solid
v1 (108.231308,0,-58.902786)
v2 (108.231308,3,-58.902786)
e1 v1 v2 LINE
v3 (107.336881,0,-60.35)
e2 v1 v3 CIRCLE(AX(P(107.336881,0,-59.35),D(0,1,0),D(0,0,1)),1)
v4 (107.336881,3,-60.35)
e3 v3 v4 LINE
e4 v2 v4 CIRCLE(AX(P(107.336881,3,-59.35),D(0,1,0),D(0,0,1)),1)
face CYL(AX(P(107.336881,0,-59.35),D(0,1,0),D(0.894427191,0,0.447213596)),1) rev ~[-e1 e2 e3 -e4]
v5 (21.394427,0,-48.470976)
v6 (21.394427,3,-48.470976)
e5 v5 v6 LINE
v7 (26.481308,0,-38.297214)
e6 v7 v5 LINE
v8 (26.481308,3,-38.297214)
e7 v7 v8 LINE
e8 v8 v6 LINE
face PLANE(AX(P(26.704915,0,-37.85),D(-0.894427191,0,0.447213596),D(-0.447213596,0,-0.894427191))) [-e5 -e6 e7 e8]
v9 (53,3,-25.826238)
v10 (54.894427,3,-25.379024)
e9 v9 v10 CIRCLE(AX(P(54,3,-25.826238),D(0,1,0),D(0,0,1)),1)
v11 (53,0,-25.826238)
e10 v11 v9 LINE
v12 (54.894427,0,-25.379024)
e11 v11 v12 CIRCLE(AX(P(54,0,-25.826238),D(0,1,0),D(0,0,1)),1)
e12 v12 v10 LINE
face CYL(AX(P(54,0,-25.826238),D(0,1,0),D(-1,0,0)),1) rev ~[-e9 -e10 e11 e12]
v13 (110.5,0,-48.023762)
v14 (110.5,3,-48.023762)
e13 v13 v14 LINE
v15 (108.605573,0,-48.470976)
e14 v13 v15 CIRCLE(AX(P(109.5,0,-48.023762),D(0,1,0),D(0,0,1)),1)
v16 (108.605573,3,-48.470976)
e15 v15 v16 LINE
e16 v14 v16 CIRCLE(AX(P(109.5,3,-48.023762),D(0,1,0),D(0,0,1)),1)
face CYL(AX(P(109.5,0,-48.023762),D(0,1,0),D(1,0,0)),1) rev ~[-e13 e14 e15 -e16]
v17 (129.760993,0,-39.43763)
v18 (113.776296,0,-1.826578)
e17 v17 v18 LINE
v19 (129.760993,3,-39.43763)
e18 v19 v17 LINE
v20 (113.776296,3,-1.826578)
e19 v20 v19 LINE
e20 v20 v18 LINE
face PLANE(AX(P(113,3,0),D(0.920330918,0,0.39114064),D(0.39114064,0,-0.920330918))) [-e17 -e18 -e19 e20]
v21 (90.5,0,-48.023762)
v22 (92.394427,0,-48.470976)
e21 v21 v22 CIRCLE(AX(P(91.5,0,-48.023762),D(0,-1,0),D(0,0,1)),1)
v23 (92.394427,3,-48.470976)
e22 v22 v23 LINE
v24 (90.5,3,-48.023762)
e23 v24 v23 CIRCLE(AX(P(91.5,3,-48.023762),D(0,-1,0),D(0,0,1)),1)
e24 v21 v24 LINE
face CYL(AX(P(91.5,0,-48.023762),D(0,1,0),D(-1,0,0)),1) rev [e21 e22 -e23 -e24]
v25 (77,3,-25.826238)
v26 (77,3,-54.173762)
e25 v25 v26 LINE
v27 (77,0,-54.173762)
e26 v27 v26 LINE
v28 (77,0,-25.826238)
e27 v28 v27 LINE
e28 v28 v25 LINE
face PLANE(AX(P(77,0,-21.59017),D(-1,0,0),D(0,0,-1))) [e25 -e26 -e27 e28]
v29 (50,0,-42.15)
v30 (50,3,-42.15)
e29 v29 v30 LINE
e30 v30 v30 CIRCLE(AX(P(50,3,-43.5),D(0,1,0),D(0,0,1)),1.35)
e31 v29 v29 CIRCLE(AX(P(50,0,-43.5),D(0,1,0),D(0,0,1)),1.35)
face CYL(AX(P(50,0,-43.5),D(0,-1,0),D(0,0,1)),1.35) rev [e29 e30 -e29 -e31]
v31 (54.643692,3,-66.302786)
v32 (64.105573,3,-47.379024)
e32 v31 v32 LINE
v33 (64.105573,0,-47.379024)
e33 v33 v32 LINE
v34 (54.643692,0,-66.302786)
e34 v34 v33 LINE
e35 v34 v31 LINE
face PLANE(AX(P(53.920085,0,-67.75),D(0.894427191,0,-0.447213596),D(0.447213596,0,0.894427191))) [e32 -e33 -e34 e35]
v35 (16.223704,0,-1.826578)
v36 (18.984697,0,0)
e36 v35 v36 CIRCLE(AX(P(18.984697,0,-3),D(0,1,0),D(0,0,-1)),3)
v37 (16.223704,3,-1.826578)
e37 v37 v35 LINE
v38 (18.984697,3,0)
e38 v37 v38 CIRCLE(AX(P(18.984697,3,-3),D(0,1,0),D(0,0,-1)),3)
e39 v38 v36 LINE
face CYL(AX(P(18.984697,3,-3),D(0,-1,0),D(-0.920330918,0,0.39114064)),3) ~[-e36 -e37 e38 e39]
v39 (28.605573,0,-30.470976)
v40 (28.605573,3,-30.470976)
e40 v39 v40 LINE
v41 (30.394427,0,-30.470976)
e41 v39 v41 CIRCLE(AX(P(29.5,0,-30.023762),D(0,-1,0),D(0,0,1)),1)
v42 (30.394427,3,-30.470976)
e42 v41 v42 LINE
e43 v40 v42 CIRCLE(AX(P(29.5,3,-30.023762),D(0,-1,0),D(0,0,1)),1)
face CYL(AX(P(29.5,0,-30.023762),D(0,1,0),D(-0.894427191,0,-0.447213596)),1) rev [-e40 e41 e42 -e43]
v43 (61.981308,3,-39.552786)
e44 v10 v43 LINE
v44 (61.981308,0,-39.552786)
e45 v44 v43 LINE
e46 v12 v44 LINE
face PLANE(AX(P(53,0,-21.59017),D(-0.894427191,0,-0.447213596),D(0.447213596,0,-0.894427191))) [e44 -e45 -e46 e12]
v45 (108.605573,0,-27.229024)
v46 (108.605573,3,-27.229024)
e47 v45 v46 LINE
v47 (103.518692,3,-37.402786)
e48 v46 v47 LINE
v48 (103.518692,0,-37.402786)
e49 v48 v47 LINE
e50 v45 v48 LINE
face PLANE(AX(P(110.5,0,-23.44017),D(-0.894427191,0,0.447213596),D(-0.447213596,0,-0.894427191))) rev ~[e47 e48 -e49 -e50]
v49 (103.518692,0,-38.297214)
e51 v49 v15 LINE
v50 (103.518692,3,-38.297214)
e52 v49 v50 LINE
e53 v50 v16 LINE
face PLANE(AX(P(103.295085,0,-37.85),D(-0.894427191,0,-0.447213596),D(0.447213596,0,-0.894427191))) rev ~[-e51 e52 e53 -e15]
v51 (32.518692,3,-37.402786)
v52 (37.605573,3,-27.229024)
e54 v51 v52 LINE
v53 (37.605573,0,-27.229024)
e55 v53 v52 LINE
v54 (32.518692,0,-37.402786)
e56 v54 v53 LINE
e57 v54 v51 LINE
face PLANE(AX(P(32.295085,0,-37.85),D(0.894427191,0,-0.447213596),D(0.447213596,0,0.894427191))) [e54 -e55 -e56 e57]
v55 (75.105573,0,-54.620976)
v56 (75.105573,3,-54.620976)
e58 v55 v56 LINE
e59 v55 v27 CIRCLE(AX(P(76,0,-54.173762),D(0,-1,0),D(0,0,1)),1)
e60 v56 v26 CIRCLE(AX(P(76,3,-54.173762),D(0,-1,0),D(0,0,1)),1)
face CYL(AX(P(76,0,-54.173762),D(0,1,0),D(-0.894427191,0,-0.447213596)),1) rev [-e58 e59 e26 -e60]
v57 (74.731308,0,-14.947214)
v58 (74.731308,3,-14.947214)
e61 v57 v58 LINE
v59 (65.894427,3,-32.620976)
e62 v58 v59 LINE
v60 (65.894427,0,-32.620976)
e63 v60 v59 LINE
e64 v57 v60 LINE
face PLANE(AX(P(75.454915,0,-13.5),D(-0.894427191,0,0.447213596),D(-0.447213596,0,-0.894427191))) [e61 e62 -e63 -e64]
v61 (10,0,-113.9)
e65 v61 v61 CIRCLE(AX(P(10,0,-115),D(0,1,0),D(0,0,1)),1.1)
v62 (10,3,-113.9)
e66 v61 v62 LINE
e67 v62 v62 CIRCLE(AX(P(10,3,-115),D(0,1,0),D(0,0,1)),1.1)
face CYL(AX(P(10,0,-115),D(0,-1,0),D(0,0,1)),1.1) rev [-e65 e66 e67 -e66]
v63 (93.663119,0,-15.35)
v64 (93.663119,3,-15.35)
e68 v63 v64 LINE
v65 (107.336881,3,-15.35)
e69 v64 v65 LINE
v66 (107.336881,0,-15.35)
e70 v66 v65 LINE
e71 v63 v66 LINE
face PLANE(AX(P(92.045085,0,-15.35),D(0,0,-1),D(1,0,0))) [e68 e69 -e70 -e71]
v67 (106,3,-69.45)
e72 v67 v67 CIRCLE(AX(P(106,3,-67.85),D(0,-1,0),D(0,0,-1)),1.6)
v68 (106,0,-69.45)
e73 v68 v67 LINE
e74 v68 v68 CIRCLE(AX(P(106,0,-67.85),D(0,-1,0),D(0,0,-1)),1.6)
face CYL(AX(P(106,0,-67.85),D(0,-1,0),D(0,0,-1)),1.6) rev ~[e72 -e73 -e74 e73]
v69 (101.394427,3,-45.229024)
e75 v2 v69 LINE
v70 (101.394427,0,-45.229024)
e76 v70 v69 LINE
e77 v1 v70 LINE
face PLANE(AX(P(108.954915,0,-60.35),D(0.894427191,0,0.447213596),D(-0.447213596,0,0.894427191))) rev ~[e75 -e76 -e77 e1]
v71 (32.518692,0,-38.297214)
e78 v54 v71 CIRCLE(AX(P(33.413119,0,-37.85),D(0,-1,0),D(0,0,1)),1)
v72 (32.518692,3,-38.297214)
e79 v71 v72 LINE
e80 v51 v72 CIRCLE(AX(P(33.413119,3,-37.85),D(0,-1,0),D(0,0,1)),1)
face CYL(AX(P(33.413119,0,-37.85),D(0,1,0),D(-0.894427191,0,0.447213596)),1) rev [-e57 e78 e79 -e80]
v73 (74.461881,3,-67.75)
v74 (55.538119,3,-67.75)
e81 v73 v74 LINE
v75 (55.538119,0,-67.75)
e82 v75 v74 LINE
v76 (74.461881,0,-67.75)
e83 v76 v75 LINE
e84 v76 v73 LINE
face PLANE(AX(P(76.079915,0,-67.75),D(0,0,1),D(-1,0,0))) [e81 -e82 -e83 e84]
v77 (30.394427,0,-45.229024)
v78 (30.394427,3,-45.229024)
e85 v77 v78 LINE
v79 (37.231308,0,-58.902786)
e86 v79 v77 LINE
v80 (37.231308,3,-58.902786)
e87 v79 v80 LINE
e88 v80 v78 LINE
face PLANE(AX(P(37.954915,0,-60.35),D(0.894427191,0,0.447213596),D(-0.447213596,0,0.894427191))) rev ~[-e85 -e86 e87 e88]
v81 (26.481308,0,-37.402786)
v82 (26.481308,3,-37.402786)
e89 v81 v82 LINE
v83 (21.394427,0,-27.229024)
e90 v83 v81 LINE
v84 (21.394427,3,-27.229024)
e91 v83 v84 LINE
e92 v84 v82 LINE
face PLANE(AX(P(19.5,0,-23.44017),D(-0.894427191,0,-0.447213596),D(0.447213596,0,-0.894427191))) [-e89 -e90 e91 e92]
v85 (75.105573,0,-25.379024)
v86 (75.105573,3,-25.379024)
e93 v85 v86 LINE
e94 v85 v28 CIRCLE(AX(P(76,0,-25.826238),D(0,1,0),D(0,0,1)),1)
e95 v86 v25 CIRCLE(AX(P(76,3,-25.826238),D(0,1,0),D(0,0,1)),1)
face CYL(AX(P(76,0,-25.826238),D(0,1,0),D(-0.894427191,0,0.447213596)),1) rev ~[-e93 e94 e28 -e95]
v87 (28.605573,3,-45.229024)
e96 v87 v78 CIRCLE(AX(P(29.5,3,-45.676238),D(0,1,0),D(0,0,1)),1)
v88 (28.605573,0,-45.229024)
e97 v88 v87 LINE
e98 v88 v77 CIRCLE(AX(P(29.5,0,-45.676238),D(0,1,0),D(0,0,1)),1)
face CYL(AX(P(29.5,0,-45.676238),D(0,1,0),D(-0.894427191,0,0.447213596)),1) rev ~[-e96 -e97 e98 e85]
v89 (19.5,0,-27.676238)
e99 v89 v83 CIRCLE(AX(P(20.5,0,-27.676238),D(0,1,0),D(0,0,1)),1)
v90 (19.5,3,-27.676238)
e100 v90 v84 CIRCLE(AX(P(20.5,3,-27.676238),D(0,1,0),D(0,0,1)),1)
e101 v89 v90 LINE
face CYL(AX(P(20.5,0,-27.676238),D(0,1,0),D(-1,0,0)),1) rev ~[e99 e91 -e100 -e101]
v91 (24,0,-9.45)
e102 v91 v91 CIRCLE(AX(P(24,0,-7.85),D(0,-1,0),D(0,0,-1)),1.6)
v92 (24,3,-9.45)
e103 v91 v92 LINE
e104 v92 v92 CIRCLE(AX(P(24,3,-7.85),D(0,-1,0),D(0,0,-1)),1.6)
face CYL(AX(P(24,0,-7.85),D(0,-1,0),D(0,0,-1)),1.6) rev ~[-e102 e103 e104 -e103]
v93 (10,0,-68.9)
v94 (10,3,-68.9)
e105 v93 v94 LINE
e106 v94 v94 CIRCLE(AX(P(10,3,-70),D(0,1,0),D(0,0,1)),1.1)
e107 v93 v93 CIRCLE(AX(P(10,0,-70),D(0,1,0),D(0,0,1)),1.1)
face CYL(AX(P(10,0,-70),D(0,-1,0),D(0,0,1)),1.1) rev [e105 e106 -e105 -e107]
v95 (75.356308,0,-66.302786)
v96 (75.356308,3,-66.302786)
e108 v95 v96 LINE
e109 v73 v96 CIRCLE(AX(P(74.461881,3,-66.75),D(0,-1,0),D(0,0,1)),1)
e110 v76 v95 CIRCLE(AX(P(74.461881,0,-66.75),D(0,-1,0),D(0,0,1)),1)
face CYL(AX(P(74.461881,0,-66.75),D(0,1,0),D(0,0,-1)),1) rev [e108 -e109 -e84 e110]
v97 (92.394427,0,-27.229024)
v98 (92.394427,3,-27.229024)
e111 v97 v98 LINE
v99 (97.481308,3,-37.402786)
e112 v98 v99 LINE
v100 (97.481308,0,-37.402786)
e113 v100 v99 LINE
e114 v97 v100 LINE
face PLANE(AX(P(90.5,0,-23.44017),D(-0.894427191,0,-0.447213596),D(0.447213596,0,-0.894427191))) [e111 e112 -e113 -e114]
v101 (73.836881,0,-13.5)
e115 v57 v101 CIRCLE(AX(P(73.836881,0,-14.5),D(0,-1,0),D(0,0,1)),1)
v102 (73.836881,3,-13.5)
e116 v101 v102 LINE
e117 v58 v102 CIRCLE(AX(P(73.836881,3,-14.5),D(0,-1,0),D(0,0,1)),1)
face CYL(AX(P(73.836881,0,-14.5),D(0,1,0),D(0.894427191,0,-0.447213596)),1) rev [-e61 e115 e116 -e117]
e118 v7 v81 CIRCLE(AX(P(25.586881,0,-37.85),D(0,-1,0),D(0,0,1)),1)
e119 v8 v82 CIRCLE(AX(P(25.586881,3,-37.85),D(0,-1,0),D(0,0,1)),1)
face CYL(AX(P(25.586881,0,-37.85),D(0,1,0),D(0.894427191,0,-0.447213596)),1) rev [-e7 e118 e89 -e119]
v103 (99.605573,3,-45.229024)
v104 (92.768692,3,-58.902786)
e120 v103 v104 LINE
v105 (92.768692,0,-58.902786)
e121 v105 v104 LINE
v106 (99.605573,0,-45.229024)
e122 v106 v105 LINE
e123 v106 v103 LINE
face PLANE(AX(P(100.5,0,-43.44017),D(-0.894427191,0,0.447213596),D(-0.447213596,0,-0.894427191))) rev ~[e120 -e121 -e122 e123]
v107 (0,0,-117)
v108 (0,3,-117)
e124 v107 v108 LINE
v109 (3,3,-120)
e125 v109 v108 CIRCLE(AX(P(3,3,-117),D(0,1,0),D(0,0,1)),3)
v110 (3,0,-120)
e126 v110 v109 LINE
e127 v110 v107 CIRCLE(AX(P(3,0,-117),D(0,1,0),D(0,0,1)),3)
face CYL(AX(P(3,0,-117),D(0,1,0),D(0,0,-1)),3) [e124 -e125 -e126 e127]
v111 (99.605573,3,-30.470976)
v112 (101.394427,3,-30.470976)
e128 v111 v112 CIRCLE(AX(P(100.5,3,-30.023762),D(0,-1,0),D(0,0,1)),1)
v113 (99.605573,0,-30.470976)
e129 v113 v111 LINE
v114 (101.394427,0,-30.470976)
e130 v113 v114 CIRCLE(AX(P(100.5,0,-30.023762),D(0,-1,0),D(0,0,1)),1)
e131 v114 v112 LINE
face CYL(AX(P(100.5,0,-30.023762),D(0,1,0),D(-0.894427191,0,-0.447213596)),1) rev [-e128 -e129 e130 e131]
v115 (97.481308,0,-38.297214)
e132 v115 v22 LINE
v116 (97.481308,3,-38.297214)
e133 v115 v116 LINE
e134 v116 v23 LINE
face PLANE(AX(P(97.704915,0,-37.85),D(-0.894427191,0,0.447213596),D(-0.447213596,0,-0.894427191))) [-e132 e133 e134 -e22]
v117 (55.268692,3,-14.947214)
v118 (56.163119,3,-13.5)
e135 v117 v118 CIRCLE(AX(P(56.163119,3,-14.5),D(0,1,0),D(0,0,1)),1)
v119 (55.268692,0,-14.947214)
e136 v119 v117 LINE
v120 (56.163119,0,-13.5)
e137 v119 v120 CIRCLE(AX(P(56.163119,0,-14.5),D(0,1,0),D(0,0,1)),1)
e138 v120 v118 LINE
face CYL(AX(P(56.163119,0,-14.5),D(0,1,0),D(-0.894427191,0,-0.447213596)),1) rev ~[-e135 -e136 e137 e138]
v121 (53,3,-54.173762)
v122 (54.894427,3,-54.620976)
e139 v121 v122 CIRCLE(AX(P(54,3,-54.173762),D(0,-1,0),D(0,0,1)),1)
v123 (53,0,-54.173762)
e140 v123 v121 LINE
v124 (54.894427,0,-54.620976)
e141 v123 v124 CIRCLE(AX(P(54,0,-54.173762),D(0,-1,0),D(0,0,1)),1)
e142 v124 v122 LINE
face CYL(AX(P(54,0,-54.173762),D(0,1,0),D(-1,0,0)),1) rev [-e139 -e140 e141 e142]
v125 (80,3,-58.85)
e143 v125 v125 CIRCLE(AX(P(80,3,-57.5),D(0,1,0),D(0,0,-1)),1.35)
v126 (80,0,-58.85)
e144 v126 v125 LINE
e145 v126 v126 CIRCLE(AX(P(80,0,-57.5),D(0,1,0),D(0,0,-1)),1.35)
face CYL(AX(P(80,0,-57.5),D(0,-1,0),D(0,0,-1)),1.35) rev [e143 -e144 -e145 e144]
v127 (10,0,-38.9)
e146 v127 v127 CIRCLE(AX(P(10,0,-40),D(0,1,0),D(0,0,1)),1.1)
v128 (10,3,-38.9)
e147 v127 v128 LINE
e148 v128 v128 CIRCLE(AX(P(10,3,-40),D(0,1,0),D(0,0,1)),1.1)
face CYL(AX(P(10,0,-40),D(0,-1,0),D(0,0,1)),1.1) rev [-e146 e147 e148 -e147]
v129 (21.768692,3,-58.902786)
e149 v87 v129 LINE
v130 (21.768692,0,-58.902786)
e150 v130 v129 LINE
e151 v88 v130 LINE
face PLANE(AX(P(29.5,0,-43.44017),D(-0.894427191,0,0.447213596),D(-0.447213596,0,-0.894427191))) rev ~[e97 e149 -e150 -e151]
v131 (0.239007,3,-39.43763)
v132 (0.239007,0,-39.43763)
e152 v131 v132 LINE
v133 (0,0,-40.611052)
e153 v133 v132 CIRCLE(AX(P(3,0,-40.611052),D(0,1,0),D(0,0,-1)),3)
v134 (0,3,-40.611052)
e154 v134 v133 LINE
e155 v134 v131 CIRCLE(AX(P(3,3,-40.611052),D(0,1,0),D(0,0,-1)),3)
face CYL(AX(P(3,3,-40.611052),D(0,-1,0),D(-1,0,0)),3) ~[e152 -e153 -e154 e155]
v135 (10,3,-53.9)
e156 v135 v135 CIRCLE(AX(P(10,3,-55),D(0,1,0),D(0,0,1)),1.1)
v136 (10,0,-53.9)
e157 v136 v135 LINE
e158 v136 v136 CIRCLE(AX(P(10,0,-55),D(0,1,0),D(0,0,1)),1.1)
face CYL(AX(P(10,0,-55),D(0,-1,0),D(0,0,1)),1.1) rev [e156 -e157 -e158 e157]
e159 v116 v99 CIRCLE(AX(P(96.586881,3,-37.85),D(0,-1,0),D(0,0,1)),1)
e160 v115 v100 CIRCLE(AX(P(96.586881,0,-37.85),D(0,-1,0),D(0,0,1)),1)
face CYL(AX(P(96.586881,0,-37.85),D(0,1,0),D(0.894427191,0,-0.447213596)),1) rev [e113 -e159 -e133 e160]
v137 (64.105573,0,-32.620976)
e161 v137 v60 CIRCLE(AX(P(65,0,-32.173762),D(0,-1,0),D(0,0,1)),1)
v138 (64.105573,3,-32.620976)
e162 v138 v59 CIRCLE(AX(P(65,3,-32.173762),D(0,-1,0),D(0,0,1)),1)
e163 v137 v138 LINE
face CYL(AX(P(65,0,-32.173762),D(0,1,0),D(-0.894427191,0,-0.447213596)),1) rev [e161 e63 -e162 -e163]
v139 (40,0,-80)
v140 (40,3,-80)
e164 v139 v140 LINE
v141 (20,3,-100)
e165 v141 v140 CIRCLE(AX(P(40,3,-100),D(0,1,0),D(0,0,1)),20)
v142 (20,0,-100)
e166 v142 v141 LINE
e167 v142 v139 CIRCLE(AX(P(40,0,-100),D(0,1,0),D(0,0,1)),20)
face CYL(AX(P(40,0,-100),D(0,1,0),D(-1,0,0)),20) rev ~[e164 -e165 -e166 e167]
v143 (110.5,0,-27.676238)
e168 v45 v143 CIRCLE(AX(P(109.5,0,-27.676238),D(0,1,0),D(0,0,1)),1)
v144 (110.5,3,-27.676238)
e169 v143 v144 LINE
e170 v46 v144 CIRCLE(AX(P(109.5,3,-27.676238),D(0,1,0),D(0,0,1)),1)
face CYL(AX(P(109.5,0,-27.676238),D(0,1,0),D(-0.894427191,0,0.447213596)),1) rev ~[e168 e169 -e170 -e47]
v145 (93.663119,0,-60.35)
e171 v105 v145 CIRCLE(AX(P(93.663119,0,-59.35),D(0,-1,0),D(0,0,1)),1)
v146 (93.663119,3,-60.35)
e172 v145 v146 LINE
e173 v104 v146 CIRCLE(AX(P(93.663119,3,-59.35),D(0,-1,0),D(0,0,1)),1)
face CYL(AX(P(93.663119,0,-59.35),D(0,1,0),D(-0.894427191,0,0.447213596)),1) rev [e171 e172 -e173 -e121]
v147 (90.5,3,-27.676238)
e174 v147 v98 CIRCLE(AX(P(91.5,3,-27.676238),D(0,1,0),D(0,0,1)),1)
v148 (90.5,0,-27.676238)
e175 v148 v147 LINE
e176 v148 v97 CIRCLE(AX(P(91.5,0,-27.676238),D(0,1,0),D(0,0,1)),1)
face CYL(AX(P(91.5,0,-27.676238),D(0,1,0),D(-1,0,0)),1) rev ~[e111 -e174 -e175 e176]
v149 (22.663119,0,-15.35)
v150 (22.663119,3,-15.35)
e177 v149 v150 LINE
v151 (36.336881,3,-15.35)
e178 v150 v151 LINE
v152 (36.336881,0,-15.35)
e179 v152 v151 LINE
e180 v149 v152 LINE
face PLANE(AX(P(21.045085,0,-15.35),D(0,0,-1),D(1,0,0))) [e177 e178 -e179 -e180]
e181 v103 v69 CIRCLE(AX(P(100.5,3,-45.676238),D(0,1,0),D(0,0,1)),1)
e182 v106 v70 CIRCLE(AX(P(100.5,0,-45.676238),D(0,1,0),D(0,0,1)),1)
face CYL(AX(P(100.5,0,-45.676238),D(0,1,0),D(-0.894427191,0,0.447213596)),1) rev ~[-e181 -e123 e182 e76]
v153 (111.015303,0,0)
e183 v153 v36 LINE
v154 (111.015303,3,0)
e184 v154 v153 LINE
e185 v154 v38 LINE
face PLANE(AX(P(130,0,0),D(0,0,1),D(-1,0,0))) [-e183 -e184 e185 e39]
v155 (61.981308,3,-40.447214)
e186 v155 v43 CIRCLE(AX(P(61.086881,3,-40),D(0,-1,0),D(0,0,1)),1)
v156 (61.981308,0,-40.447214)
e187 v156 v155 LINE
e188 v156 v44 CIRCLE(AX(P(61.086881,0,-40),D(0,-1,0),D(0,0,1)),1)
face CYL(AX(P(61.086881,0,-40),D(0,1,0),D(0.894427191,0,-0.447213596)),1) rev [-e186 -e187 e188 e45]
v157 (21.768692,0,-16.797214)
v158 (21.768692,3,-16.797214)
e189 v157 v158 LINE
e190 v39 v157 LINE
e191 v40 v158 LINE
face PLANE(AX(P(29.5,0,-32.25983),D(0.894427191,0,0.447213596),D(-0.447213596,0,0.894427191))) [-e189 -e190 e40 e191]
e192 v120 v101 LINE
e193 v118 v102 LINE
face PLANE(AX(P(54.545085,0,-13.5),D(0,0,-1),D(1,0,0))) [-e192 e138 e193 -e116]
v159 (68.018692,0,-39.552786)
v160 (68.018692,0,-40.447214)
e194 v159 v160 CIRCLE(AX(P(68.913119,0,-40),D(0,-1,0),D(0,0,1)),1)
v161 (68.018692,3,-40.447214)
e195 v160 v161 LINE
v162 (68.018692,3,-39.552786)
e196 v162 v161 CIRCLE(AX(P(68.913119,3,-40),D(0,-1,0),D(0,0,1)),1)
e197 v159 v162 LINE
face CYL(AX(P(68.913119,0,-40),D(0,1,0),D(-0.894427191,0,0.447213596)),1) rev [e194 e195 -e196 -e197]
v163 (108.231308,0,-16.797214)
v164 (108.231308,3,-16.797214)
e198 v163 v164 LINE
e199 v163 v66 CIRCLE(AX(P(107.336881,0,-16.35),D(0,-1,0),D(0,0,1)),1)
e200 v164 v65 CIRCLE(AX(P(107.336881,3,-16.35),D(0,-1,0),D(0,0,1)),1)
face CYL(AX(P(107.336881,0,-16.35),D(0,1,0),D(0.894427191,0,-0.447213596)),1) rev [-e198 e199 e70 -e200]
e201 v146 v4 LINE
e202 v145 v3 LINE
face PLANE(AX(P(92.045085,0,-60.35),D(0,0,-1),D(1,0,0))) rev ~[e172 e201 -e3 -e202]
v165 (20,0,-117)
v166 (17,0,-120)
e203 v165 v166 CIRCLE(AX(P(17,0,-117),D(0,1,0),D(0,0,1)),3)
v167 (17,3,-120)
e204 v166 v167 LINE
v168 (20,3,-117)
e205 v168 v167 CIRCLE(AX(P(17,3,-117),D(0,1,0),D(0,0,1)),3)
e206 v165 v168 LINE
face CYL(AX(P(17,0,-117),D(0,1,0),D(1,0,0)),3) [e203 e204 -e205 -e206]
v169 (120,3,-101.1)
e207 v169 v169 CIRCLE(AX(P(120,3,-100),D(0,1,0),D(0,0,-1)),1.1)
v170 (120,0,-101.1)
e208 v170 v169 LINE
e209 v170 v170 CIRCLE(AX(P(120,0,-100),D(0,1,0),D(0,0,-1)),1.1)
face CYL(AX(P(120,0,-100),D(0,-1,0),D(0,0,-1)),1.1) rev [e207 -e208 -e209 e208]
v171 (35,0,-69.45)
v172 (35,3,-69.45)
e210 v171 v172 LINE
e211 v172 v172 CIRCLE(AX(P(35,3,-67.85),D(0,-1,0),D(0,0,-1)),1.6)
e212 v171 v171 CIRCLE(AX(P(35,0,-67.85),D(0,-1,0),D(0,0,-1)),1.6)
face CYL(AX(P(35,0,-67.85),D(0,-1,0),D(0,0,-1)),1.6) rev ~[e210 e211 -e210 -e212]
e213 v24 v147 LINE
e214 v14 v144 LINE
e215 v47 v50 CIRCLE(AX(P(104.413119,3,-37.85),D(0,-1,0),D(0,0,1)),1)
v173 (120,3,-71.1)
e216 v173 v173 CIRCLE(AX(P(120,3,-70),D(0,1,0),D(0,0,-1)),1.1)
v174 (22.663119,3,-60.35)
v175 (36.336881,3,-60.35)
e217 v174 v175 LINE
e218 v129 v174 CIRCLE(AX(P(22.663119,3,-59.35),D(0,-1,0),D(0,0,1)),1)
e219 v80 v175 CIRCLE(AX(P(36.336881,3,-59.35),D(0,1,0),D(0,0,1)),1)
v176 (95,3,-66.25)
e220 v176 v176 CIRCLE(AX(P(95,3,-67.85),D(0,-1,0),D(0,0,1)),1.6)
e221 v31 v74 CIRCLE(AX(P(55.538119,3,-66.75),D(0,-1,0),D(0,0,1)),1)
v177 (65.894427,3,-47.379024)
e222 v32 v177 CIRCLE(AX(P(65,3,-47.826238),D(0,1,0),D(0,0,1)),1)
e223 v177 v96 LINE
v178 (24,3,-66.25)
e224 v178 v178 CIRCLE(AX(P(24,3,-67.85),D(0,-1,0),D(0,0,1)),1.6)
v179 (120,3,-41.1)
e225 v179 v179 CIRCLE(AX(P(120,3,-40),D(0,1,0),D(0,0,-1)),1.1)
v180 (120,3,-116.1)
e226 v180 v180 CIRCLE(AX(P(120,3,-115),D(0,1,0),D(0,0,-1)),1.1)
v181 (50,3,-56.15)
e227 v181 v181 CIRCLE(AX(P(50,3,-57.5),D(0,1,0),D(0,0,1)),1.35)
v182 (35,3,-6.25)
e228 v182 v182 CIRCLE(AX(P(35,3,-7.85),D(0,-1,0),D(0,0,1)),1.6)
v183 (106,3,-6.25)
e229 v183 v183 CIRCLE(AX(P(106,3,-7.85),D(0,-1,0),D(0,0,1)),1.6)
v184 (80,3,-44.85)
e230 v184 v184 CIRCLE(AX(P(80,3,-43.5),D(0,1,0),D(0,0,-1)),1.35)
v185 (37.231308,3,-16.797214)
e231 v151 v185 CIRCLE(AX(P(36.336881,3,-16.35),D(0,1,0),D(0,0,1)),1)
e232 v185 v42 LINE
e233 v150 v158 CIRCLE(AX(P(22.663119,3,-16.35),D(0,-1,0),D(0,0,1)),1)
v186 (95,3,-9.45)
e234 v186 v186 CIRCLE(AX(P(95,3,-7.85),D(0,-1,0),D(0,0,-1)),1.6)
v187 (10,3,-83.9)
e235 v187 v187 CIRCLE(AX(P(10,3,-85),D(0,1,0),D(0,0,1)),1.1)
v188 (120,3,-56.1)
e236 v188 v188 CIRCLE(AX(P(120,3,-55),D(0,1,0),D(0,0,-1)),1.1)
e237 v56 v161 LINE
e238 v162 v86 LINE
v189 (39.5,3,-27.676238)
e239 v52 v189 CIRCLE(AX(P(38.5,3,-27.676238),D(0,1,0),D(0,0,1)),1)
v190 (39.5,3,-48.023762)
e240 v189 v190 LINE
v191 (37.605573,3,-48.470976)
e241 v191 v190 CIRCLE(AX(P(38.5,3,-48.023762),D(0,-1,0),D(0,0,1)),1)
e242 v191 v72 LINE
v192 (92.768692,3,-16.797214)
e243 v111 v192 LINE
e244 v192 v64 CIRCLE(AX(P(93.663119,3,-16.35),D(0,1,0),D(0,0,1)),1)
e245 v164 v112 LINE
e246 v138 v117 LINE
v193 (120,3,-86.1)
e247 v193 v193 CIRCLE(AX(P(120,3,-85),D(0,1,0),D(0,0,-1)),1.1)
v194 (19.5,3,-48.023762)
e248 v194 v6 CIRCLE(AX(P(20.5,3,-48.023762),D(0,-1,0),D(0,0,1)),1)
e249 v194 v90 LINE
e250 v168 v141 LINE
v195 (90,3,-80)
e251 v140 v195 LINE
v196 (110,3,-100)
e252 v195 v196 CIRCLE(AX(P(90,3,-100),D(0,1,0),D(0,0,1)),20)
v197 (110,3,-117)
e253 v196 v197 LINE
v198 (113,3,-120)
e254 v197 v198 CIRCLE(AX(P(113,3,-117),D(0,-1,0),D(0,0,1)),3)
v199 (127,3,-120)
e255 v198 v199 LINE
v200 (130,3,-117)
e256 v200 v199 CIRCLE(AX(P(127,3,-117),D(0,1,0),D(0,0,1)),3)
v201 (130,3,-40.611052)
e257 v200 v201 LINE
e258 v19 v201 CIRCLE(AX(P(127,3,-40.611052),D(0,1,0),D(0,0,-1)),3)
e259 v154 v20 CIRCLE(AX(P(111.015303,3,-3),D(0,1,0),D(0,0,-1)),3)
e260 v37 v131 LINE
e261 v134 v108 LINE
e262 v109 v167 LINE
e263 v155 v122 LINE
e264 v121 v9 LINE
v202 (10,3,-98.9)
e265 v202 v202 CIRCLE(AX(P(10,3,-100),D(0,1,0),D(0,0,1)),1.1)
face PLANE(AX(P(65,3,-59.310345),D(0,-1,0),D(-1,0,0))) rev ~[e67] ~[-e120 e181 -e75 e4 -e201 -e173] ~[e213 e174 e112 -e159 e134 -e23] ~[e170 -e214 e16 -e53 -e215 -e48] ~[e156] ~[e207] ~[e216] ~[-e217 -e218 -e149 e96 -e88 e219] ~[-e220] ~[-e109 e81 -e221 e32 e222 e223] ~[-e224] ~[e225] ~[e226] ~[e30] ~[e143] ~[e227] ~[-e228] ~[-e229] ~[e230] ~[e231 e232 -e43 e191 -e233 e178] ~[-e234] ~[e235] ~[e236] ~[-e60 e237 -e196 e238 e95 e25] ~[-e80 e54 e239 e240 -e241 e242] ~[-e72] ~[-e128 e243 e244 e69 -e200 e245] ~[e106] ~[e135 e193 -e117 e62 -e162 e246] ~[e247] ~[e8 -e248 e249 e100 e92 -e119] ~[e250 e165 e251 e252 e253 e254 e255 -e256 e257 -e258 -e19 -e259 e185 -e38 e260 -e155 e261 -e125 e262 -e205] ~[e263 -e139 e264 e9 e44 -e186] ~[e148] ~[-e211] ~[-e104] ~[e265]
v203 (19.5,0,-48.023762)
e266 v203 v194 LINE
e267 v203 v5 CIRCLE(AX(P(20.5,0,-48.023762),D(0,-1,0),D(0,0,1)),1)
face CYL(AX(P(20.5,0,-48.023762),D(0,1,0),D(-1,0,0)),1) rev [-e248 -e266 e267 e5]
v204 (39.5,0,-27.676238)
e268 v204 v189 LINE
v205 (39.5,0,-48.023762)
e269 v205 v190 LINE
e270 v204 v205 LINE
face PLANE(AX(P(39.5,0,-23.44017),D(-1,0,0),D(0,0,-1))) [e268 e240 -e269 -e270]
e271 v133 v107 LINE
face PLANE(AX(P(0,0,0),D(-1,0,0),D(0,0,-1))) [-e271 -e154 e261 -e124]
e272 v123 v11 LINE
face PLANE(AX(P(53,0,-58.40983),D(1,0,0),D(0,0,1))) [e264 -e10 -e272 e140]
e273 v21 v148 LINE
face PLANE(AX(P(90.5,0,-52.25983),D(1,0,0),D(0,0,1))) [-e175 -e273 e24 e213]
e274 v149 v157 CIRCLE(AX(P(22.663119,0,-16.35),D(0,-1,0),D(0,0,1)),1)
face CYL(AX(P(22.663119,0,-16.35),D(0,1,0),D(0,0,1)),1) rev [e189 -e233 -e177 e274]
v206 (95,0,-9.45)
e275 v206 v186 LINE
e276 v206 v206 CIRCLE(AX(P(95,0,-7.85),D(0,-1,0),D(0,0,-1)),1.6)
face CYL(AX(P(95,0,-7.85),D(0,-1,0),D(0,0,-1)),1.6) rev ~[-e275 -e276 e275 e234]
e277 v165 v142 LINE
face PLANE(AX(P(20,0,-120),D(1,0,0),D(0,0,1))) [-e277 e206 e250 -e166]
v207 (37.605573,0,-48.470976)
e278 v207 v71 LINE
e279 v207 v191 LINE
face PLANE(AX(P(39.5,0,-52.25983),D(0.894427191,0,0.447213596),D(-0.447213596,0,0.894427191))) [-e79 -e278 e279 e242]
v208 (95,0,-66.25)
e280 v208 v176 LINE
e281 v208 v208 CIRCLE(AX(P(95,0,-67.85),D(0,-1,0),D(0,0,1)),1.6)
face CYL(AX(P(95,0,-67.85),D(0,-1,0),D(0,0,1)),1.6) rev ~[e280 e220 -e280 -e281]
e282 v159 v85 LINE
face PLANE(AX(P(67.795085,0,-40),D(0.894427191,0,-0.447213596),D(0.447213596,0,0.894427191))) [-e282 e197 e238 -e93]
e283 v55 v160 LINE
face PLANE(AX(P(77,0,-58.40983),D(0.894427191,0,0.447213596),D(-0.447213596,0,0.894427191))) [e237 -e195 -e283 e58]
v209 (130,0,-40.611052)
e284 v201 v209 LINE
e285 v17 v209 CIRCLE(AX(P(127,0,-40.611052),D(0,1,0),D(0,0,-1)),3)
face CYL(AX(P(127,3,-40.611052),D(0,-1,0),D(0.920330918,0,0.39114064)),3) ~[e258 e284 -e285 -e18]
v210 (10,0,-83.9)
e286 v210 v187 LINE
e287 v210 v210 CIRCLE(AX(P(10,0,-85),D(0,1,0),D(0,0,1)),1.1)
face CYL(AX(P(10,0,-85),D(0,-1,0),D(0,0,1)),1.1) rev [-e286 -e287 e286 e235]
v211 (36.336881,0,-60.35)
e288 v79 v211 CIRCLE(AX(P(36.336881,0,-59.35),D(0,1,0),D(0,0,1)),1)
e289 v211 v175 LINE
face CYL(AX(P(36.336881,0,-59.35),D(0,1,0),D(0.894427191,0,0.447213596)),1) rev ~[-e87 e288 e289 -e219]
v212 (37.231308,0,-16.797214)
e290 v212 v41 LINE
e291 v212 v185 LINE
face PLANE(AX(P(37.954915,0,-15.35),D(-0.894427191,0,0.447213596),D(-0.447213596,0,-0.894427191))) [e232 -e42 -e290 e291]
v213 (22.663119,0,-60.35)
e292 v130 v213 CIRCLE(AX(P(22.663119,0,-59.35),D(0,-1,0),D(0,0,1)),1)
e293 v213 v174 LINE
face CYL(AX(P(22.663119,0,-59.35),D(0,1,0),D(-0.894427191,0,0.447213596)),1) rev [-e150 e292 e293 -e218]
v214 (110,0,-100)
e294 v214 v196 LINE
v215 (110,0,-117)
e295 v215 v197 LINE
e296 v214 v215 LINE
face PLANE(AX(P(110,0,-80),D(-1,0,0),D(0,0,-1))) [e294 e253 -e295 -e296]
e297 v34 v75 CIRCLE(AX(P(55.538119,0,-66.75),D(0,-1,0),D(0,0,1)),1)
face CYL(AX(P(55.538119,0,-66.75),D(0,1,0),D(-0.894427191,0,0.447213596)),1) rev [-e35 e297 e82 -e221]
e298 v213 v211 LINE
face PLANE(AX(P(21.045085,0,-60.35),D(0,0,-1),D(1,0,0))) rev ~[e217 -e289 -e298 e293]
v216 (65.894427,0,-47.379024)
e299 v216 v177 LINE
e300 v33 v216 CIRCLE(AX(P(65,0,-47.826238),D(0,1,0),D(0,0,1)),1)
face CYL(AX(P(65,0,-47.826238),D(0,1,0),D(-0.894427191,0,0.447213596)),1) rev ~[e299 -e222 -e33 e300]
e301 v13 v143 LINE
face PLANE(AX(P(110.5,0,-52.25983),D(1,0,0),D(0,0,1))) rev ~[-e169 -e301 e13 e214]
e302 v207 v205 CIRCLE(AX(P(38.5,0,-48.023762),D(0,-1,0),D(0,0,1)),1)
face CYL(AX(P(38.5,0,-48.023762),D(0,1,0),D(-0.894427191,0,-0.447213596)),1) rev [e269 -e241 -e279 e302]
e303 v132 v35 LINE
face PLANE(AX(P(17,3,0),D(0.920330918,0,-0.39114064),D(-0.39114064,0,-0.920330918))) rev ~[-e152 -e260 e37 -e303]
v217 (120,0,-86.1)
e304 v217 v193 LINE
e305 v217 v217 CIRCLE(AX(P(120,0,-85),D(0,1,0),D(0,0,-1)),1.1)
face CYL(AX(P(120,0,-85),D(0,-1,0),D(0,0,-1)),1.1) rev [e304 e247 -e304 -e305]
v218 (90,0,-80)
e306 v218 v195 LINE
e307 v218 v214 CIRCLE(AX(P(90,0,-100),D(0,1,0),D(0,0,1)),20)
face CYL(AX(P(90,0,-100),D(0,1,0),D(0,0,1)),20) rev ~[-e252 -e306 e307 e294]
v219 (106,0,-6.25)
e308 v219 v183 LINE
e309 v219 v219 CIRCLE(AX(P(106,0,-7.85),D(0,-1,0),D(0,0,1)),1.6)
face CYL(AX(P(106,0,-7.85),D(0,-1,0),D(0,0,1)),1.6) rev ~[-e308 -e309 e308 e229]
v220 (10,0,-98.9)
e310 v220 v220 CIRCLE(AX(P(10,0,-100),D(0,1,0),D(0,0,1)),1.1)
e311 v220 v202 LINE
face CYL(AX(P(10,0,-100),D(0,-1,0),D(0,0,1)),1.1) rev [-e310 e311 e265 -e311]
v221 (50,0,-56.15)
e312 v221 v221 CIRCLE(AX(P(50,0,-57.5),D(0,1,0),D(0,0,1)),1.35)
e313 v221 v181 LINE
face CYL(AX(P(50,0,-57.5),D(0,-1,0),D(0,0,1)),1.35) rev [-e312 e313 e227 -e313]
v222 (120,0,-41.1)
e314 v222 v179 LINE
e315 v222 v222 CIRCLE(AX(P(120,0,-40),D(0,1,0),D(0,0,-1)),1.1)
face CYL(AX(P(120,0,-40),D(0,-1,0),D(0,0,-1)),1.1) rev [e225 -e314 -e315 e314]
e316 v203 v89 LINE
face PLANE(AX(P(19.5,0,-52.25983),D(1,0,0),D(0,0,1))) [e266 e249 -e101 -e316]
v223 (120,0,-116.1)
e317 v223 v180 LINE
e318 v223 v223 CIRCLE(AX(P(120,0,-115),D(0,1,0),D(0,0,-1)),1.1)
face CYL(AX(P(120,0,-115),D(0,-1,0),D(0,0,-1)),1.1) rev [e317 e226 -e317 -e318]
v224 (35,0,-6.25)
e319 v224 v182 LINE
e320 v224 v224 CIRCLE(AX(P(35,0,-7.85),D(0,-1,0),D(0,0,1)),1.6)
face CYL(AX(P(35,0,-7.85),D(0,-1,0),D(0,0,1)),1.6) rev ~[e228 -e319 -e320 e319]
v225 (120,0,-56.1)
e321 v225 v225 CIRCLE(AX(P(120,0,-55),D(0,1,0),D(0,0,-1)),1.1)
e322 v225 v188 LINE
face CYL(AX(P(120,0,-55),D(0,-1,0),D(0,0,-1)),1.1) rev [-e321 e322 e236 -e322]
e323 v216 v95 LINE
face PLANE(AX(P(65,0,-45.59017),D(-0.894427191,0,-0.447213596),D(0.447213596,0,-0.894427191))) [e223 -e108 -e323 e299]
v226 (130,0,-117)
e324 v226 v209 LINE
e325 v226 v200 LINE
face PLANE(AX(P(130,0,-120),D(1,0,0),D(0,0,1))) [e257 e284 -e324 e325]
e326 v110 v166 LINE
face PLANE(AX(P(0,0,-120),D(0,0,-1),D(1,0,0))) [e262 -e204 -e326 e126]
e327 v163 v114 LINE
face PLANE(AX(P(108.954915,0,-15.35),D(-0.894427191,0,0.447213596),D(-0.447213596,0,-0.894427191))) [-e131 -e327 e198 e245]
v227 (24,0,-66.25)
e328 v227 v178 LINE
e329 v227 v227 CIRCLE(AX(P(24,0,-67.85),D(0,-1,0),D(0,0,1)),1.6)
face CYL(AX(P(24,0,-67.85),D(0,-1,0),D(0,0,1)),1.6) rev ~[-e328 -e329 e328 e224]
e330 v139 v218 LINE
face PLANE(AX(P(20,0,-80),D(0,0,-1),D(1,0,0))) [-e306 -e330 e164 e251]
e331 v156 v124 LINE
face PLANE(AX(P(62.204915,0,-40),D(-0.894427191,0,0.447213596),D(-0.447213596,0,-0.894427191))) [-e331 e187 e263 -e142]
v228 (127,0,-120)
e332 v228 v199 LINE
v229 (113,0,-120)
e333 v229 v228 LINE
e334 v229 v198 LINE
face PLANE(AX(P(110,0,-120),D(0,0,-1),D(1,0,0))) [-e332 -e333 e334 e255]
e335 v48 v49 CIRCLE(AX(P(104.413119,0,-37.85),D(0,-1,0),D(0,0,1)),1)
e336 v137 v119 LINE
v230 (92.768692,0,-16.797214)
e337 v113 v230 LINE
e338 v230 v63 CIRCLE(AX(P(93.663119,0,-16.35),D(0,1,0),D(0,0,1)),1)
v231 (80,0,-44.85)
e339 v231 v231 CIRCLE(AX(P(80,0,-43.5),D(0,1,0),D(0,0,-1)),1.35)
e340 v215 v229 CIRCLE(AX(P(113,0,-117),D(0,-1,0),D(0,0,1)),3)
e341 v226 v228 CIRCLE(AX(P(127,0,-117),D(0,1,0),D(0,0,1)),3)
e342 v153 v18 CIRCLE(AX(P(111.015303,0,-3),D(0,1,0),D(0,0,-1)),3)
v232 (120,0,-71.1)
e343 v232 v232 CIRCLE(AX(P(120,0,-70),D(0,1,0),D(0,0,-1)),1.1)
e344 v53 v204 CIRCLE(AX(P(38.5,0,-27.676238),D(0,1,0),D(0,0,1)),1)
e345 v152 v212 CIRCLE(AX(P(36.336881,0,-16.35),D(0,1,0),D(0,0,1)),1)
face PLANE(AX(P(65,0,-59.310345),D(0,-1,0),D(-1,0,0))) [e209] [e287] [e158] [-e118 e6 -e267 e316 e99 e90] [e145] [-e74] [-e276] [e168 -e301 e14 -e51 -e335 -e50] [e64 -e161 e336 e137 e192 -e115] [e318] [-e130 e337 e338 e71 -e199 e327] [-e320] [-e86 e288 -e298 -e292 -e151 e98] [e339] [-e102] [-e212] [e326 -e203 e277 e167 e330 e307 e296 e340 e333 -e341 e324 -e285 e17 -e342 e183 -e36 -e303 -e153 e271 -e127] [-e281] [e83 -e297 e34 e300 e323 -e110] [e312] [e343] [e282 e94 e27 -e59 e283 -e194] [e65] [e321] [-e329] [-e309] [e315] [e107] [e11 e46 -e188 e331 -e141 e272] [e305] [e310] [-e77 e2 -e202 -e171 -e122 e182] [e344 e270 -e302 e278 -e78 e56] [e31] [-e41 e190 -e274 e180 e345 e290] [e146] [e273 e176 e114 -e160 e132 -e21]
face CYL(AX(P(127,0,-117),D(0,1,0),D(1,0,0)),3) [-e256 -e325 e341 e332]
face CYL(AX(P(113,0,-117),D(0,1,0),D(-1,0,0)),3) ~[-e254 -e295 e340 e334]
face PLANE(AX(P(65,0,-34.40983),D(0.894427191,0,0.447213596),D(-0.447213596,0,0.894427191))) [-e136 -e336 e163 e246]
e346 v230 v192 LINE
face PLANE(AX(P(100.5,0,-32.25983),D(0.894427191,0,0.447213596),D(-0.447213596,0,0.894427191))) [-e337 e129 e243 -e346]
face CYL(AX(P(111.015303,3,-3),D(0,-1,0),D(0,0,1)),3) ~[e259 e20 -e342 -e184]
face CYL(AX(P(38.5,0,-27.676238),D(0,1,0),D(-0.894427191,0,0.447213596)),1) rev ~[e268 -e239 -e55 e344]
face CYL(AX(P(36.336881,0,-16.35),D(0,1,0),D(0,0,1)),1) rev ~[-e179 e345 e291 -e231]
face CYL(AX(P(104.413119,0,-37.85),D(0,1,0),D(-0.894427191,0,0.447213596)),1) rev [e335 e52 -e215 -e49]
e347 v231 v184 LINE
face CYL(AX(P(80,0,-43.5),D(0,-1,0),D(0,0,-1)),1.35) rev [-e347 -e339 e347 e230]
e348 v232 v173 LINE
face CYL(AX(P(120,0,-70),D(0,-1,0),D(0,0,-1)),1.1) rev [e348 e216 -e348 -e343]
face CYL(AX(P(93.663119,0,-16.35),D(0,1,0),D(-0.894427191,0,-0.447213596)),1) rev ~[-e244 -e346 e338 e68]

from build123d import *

# Parameters (mm, degrees)
SKETCH_1_R          = 1.1
SKETCH_1_R_2        = 1.35
EXTRUDE_1_DEPTH     = 3
SKETCH_2_R          = 1.6
CUT_EXTRUDE_1_DEPTH = 177.943493805
CUT_EXTRUDE_2_DEPTH = 177.943493805
FILLET_1_R          = 3
FILLET_2_R          = 1
FILLET_3_R          = 20


with BuildPart() as part:
    # 草图1 → 凸台-拉伸1 (new body)
    with BuildSketch(Plane(origin=(0, 0, 0), x_dir=(1, 0, 0), z_dir=(0, 1, 0))):
        Polygon((20, 120), (20, 80), (110, 80), (110, 120), (130, 120), (130, 0), (0, 0), (0, 120), align=None)
        with Locations(Location((10, 115, 0), (0, 0, 270))):
            Circle(SKETCH_1_R, mode=Mode.SUBTRACT)
        with Locations(Location((120, 115, 0), (0, 0, 90))):
            Circle(SKETCH_1_R, mode=Mode.SUBTRACT)
        with Locations(Location((10, 100, 0), (0, 0, 270))):
            Circle(SKETCH_1_R, mode=Mode.SUBTRACT)
        with Locations(Location((120, 100, 0), (0, 0, 90))):
            Circle(SKETCH_1_R, mode=Mode.SUBTRACT)
        with Locations(Location((10, 85, 0), (0, 0, 270))):
            Circle(SKETCH_1_R, mode=Mode.SUBTRACT)
        with Locations(Location((120, 85, 0), (0, 0, 90))):
            Circle(SKETCH_1_R, mode=Mode.SUBTRACT)
        with Locations(Location((10, 70, 0), (0, 0, 270))):
            Circle(SKETCH_1_R, mode=Mode.SUBTRACT)
        with Locations(Location((120, 70, 0), (0, 0, 90))):
            Circle(SKETCH_1_R, mode=Mode.SUBTRACT)
        with Locations(Location((10, 55, 0), (0, 0, 270))):
            Circle(SKETCH_1_R, mode=Mode.SUBTRACT)
        with Locations(Location((120, 55, 0), (0, 0, 90))):
            Circle(SKETCH_1_R, mode=Mode.SUBTRACT)
        with Locations(Location((10, 40, 0), (0, 0, 270))):
            Circle(SKETCH_1_R, mode=Mode.SUBTRACT)
        with Locations(Location((120, 40, 0), (0, 0, 90))):
            Circle(SKETCH_1_R, mode=Mode.SUBTRACT)
        with Locations(Location((50, 57.5, 0), (0, 0, 270))):
            Circle(SKETCH_1_R_2, mode=Mode.SUBTRACT)
        with Locations(Location((50, 43.5, 0), (0, 0, 270))):
            Circle(SKETCH_1_R_2, mode=Mode.SUBTRACT)
        with Locations(Location((80, 43.5, 0), (0, 0, 90))):
            Circle(SKETCH_1_R_2, mode=Mode.SUBTRACT)
        with Locations(Location((80, 57.5, 0), (0, 0, 90))):
            Circle(SKETCH_1_R_2, mode=Mode.SUBTRACT)
    extrude(amount=EXTRUDE_1_DEPTH)

    # 草图2 → 切除-拉伸1 (cut, through all)
    with BuildSketch(Plane.XZ):
        with Locations(Location((24, -7.85, 0), (0, 0, 270))):
            Circle(SKETCH_2_R)
        with Locations(Location((35, -7.85, 0), (0, 0, 90))):
            Circle(SKETCH_2_R)
        with Locations(Location((35, -67.85, 0), (0, 0, 270))):
            Circle(SKETCH_2_R)
        with Locations(Location((24, -67.85, 0), (0, 0, 90))):
            Circle(SKETCH_2_R)
        with Locations(Location((95, -67.85, 0), (0, 0, 90))):
            Circle(SKETCH_2_R)
        with Locations(Location((106, -67.85, 0), (0, 0, 270))):
            Circle(SKETCH_2_R)
        with Locations(Location((95, -7.85, 0), (0, 0, 270))):
            Circle(SKETCH_2_R)
        with Locations(Location((106, -7.85, 0), (0, 0, 90))):
            Circle(SKETCH_2_R)
        Polygon((37.954915028, -15.35), (29.5, -32.259830056), (21.045084972, -15.35), align=None)
        Polygon((19.5, -23.440169944), (26.704915028, -37.85), (19.5, -52.259830056), align=None)
        Polygon((29.5, -43.440169944), (21.045084972, -60.35), (37.954915028, -60.35), align=None)
        Polygon((90.5, -23.440169944), (97.704915028, -37.85), (90.5, -52.259830056), align=None)
        Polygon((39.5, -23.440169944), (39.5, -52.259830056), (32.295084972, -37.85), align=None)
        Polygon((100.5, -43.440169944), (92.045084972, -60.35), (108.954915028, -60.35), align=None)
        Polygon((110.5, -23.440169944), (103.295084972, -37.85), (110.5, -52.259830056), align=None)
        Polygon((92.045084972, -15.35), (108.954915028, -15.35), (100.5, -32.259830056), align=None)
        Polygon((54.545084972, -13.5), (75.454915028, -13.5), (65, -34.409830056), align=None)
        Polygon((53, -21.590169944), (62.204915028, -40), (53, -58.409830056), align=None)
        Polygon((65, -45.590169944), (76.079915028, -67.75), (53.920084972, -67.75), align=None)
        Polygon((77, -21.590169944), (77, -58.409830056), (67.795084972, -40), align=None)
    extrude(amount=-CUT_EXTRUDE_1_DEPTH, mode=Mode.SUBTRACT)

    # 草图3 → 切除-拉伸2 (cut, through all)
    with BuildSketch(Plane(origin=(0, 3, 0), x_dir=(1, 0, 0), z_dir=(0, 1, 0))):
        Polygon((17, 0), (0, 40), (0, 0), align=None)
        Polygon((113, 0), (130, 40), (130, 0), align=None)
    extrude(amount=-CUT_EXTRUDE_2_DEPTH, mode=Mode.SUBTRACT)

    # 圆角1
    fillet_1_edges = [part.edges().sort_by_distance(p)[0] for p in [
        (0, 1.5, -120),
        (20, 1.5, -120),
        (110, 1.5, -120),
        (130, 1.5, -120),
        (17, 1.5, 0),
        (0, 1.5, -40),
        (113, 1.5, 0),
        (130, 1.5, -40),
    ]]
    fillet(fillet_1_edges, radius=FILLET_1_R)

    # 圆角2
    fillet_2_edges = [part.edges().sort_by_distance(p)[0] for p in [
        (90.5, 1.5, -52.259830056),
        (90.5, 1.5, -23.440169944),
        (97.704915028, 1.5, -37.85),
        (19.5, 1.5, -52.259830056),
        (19.5, 1.5, -23.440169944),
        (26.704915028, 1.5, -37.85),
        (21.045084972, 1.5, -15.35),
        (37.954915028, 1.5, -15.35),
        (29.5, 1.5, -32.259830056),
        (39.5, 1.5, -52.259830056),
        (32.295084972, 1.5, -37.85),
        (39.5, 1.5, -23.440169944),
        (53.920084972, 1.5, -67.75),
        (65, 1.5, -45.590169944),
        (76.079915028, 1.5, -67.75),
        (100.5, 1.5, -32.259830056),
        (92.045084972, 1.5, -15.35),
        (108.954915028, 1.5, -15.35),
        (100.5, 1.5, -43.440169944),
        (108.954915028, 1.5, -60.35),
        (92.045084972, 1.5, -60.35),
        (110.5, 1.5, -23.440169944),
        (110.5, 1.5, -52.259830056),
        (103.295084972, 1.5, -37.85),
        (37.954915028, 1.5, -60.35),
        (21.045084972, 1.5, -60.35),
        (29.5, 1.5, -43.440169944),
        (65, 1.5, -34.409830056),
        (54.545084972, 1.5, -13.5),
        (75.454915028, 1.5, -13.5),
        (77, 1.5, -58.409830056),
        (67.795084972, 1.5, -40),
        (77, 1.5, -21.590169944),
        (53, 1.5, -58.409830056),
        (53, 1.5, -21.590169944),
        (62.204915028, 1.5, -40),
    ]]
    fillet(fillet_2_edges, radius=FILLET_2_R)

    # 圆角3
    fillet_3_edges = [part.edges().sort_by_distance(p)[0] for p in [
        (20, 1.5, -80),
        (110, 1.5, -80),
    ]]
    fillet(fillet_3_edges, radius=FILLET_3_R)


solid = part.part
